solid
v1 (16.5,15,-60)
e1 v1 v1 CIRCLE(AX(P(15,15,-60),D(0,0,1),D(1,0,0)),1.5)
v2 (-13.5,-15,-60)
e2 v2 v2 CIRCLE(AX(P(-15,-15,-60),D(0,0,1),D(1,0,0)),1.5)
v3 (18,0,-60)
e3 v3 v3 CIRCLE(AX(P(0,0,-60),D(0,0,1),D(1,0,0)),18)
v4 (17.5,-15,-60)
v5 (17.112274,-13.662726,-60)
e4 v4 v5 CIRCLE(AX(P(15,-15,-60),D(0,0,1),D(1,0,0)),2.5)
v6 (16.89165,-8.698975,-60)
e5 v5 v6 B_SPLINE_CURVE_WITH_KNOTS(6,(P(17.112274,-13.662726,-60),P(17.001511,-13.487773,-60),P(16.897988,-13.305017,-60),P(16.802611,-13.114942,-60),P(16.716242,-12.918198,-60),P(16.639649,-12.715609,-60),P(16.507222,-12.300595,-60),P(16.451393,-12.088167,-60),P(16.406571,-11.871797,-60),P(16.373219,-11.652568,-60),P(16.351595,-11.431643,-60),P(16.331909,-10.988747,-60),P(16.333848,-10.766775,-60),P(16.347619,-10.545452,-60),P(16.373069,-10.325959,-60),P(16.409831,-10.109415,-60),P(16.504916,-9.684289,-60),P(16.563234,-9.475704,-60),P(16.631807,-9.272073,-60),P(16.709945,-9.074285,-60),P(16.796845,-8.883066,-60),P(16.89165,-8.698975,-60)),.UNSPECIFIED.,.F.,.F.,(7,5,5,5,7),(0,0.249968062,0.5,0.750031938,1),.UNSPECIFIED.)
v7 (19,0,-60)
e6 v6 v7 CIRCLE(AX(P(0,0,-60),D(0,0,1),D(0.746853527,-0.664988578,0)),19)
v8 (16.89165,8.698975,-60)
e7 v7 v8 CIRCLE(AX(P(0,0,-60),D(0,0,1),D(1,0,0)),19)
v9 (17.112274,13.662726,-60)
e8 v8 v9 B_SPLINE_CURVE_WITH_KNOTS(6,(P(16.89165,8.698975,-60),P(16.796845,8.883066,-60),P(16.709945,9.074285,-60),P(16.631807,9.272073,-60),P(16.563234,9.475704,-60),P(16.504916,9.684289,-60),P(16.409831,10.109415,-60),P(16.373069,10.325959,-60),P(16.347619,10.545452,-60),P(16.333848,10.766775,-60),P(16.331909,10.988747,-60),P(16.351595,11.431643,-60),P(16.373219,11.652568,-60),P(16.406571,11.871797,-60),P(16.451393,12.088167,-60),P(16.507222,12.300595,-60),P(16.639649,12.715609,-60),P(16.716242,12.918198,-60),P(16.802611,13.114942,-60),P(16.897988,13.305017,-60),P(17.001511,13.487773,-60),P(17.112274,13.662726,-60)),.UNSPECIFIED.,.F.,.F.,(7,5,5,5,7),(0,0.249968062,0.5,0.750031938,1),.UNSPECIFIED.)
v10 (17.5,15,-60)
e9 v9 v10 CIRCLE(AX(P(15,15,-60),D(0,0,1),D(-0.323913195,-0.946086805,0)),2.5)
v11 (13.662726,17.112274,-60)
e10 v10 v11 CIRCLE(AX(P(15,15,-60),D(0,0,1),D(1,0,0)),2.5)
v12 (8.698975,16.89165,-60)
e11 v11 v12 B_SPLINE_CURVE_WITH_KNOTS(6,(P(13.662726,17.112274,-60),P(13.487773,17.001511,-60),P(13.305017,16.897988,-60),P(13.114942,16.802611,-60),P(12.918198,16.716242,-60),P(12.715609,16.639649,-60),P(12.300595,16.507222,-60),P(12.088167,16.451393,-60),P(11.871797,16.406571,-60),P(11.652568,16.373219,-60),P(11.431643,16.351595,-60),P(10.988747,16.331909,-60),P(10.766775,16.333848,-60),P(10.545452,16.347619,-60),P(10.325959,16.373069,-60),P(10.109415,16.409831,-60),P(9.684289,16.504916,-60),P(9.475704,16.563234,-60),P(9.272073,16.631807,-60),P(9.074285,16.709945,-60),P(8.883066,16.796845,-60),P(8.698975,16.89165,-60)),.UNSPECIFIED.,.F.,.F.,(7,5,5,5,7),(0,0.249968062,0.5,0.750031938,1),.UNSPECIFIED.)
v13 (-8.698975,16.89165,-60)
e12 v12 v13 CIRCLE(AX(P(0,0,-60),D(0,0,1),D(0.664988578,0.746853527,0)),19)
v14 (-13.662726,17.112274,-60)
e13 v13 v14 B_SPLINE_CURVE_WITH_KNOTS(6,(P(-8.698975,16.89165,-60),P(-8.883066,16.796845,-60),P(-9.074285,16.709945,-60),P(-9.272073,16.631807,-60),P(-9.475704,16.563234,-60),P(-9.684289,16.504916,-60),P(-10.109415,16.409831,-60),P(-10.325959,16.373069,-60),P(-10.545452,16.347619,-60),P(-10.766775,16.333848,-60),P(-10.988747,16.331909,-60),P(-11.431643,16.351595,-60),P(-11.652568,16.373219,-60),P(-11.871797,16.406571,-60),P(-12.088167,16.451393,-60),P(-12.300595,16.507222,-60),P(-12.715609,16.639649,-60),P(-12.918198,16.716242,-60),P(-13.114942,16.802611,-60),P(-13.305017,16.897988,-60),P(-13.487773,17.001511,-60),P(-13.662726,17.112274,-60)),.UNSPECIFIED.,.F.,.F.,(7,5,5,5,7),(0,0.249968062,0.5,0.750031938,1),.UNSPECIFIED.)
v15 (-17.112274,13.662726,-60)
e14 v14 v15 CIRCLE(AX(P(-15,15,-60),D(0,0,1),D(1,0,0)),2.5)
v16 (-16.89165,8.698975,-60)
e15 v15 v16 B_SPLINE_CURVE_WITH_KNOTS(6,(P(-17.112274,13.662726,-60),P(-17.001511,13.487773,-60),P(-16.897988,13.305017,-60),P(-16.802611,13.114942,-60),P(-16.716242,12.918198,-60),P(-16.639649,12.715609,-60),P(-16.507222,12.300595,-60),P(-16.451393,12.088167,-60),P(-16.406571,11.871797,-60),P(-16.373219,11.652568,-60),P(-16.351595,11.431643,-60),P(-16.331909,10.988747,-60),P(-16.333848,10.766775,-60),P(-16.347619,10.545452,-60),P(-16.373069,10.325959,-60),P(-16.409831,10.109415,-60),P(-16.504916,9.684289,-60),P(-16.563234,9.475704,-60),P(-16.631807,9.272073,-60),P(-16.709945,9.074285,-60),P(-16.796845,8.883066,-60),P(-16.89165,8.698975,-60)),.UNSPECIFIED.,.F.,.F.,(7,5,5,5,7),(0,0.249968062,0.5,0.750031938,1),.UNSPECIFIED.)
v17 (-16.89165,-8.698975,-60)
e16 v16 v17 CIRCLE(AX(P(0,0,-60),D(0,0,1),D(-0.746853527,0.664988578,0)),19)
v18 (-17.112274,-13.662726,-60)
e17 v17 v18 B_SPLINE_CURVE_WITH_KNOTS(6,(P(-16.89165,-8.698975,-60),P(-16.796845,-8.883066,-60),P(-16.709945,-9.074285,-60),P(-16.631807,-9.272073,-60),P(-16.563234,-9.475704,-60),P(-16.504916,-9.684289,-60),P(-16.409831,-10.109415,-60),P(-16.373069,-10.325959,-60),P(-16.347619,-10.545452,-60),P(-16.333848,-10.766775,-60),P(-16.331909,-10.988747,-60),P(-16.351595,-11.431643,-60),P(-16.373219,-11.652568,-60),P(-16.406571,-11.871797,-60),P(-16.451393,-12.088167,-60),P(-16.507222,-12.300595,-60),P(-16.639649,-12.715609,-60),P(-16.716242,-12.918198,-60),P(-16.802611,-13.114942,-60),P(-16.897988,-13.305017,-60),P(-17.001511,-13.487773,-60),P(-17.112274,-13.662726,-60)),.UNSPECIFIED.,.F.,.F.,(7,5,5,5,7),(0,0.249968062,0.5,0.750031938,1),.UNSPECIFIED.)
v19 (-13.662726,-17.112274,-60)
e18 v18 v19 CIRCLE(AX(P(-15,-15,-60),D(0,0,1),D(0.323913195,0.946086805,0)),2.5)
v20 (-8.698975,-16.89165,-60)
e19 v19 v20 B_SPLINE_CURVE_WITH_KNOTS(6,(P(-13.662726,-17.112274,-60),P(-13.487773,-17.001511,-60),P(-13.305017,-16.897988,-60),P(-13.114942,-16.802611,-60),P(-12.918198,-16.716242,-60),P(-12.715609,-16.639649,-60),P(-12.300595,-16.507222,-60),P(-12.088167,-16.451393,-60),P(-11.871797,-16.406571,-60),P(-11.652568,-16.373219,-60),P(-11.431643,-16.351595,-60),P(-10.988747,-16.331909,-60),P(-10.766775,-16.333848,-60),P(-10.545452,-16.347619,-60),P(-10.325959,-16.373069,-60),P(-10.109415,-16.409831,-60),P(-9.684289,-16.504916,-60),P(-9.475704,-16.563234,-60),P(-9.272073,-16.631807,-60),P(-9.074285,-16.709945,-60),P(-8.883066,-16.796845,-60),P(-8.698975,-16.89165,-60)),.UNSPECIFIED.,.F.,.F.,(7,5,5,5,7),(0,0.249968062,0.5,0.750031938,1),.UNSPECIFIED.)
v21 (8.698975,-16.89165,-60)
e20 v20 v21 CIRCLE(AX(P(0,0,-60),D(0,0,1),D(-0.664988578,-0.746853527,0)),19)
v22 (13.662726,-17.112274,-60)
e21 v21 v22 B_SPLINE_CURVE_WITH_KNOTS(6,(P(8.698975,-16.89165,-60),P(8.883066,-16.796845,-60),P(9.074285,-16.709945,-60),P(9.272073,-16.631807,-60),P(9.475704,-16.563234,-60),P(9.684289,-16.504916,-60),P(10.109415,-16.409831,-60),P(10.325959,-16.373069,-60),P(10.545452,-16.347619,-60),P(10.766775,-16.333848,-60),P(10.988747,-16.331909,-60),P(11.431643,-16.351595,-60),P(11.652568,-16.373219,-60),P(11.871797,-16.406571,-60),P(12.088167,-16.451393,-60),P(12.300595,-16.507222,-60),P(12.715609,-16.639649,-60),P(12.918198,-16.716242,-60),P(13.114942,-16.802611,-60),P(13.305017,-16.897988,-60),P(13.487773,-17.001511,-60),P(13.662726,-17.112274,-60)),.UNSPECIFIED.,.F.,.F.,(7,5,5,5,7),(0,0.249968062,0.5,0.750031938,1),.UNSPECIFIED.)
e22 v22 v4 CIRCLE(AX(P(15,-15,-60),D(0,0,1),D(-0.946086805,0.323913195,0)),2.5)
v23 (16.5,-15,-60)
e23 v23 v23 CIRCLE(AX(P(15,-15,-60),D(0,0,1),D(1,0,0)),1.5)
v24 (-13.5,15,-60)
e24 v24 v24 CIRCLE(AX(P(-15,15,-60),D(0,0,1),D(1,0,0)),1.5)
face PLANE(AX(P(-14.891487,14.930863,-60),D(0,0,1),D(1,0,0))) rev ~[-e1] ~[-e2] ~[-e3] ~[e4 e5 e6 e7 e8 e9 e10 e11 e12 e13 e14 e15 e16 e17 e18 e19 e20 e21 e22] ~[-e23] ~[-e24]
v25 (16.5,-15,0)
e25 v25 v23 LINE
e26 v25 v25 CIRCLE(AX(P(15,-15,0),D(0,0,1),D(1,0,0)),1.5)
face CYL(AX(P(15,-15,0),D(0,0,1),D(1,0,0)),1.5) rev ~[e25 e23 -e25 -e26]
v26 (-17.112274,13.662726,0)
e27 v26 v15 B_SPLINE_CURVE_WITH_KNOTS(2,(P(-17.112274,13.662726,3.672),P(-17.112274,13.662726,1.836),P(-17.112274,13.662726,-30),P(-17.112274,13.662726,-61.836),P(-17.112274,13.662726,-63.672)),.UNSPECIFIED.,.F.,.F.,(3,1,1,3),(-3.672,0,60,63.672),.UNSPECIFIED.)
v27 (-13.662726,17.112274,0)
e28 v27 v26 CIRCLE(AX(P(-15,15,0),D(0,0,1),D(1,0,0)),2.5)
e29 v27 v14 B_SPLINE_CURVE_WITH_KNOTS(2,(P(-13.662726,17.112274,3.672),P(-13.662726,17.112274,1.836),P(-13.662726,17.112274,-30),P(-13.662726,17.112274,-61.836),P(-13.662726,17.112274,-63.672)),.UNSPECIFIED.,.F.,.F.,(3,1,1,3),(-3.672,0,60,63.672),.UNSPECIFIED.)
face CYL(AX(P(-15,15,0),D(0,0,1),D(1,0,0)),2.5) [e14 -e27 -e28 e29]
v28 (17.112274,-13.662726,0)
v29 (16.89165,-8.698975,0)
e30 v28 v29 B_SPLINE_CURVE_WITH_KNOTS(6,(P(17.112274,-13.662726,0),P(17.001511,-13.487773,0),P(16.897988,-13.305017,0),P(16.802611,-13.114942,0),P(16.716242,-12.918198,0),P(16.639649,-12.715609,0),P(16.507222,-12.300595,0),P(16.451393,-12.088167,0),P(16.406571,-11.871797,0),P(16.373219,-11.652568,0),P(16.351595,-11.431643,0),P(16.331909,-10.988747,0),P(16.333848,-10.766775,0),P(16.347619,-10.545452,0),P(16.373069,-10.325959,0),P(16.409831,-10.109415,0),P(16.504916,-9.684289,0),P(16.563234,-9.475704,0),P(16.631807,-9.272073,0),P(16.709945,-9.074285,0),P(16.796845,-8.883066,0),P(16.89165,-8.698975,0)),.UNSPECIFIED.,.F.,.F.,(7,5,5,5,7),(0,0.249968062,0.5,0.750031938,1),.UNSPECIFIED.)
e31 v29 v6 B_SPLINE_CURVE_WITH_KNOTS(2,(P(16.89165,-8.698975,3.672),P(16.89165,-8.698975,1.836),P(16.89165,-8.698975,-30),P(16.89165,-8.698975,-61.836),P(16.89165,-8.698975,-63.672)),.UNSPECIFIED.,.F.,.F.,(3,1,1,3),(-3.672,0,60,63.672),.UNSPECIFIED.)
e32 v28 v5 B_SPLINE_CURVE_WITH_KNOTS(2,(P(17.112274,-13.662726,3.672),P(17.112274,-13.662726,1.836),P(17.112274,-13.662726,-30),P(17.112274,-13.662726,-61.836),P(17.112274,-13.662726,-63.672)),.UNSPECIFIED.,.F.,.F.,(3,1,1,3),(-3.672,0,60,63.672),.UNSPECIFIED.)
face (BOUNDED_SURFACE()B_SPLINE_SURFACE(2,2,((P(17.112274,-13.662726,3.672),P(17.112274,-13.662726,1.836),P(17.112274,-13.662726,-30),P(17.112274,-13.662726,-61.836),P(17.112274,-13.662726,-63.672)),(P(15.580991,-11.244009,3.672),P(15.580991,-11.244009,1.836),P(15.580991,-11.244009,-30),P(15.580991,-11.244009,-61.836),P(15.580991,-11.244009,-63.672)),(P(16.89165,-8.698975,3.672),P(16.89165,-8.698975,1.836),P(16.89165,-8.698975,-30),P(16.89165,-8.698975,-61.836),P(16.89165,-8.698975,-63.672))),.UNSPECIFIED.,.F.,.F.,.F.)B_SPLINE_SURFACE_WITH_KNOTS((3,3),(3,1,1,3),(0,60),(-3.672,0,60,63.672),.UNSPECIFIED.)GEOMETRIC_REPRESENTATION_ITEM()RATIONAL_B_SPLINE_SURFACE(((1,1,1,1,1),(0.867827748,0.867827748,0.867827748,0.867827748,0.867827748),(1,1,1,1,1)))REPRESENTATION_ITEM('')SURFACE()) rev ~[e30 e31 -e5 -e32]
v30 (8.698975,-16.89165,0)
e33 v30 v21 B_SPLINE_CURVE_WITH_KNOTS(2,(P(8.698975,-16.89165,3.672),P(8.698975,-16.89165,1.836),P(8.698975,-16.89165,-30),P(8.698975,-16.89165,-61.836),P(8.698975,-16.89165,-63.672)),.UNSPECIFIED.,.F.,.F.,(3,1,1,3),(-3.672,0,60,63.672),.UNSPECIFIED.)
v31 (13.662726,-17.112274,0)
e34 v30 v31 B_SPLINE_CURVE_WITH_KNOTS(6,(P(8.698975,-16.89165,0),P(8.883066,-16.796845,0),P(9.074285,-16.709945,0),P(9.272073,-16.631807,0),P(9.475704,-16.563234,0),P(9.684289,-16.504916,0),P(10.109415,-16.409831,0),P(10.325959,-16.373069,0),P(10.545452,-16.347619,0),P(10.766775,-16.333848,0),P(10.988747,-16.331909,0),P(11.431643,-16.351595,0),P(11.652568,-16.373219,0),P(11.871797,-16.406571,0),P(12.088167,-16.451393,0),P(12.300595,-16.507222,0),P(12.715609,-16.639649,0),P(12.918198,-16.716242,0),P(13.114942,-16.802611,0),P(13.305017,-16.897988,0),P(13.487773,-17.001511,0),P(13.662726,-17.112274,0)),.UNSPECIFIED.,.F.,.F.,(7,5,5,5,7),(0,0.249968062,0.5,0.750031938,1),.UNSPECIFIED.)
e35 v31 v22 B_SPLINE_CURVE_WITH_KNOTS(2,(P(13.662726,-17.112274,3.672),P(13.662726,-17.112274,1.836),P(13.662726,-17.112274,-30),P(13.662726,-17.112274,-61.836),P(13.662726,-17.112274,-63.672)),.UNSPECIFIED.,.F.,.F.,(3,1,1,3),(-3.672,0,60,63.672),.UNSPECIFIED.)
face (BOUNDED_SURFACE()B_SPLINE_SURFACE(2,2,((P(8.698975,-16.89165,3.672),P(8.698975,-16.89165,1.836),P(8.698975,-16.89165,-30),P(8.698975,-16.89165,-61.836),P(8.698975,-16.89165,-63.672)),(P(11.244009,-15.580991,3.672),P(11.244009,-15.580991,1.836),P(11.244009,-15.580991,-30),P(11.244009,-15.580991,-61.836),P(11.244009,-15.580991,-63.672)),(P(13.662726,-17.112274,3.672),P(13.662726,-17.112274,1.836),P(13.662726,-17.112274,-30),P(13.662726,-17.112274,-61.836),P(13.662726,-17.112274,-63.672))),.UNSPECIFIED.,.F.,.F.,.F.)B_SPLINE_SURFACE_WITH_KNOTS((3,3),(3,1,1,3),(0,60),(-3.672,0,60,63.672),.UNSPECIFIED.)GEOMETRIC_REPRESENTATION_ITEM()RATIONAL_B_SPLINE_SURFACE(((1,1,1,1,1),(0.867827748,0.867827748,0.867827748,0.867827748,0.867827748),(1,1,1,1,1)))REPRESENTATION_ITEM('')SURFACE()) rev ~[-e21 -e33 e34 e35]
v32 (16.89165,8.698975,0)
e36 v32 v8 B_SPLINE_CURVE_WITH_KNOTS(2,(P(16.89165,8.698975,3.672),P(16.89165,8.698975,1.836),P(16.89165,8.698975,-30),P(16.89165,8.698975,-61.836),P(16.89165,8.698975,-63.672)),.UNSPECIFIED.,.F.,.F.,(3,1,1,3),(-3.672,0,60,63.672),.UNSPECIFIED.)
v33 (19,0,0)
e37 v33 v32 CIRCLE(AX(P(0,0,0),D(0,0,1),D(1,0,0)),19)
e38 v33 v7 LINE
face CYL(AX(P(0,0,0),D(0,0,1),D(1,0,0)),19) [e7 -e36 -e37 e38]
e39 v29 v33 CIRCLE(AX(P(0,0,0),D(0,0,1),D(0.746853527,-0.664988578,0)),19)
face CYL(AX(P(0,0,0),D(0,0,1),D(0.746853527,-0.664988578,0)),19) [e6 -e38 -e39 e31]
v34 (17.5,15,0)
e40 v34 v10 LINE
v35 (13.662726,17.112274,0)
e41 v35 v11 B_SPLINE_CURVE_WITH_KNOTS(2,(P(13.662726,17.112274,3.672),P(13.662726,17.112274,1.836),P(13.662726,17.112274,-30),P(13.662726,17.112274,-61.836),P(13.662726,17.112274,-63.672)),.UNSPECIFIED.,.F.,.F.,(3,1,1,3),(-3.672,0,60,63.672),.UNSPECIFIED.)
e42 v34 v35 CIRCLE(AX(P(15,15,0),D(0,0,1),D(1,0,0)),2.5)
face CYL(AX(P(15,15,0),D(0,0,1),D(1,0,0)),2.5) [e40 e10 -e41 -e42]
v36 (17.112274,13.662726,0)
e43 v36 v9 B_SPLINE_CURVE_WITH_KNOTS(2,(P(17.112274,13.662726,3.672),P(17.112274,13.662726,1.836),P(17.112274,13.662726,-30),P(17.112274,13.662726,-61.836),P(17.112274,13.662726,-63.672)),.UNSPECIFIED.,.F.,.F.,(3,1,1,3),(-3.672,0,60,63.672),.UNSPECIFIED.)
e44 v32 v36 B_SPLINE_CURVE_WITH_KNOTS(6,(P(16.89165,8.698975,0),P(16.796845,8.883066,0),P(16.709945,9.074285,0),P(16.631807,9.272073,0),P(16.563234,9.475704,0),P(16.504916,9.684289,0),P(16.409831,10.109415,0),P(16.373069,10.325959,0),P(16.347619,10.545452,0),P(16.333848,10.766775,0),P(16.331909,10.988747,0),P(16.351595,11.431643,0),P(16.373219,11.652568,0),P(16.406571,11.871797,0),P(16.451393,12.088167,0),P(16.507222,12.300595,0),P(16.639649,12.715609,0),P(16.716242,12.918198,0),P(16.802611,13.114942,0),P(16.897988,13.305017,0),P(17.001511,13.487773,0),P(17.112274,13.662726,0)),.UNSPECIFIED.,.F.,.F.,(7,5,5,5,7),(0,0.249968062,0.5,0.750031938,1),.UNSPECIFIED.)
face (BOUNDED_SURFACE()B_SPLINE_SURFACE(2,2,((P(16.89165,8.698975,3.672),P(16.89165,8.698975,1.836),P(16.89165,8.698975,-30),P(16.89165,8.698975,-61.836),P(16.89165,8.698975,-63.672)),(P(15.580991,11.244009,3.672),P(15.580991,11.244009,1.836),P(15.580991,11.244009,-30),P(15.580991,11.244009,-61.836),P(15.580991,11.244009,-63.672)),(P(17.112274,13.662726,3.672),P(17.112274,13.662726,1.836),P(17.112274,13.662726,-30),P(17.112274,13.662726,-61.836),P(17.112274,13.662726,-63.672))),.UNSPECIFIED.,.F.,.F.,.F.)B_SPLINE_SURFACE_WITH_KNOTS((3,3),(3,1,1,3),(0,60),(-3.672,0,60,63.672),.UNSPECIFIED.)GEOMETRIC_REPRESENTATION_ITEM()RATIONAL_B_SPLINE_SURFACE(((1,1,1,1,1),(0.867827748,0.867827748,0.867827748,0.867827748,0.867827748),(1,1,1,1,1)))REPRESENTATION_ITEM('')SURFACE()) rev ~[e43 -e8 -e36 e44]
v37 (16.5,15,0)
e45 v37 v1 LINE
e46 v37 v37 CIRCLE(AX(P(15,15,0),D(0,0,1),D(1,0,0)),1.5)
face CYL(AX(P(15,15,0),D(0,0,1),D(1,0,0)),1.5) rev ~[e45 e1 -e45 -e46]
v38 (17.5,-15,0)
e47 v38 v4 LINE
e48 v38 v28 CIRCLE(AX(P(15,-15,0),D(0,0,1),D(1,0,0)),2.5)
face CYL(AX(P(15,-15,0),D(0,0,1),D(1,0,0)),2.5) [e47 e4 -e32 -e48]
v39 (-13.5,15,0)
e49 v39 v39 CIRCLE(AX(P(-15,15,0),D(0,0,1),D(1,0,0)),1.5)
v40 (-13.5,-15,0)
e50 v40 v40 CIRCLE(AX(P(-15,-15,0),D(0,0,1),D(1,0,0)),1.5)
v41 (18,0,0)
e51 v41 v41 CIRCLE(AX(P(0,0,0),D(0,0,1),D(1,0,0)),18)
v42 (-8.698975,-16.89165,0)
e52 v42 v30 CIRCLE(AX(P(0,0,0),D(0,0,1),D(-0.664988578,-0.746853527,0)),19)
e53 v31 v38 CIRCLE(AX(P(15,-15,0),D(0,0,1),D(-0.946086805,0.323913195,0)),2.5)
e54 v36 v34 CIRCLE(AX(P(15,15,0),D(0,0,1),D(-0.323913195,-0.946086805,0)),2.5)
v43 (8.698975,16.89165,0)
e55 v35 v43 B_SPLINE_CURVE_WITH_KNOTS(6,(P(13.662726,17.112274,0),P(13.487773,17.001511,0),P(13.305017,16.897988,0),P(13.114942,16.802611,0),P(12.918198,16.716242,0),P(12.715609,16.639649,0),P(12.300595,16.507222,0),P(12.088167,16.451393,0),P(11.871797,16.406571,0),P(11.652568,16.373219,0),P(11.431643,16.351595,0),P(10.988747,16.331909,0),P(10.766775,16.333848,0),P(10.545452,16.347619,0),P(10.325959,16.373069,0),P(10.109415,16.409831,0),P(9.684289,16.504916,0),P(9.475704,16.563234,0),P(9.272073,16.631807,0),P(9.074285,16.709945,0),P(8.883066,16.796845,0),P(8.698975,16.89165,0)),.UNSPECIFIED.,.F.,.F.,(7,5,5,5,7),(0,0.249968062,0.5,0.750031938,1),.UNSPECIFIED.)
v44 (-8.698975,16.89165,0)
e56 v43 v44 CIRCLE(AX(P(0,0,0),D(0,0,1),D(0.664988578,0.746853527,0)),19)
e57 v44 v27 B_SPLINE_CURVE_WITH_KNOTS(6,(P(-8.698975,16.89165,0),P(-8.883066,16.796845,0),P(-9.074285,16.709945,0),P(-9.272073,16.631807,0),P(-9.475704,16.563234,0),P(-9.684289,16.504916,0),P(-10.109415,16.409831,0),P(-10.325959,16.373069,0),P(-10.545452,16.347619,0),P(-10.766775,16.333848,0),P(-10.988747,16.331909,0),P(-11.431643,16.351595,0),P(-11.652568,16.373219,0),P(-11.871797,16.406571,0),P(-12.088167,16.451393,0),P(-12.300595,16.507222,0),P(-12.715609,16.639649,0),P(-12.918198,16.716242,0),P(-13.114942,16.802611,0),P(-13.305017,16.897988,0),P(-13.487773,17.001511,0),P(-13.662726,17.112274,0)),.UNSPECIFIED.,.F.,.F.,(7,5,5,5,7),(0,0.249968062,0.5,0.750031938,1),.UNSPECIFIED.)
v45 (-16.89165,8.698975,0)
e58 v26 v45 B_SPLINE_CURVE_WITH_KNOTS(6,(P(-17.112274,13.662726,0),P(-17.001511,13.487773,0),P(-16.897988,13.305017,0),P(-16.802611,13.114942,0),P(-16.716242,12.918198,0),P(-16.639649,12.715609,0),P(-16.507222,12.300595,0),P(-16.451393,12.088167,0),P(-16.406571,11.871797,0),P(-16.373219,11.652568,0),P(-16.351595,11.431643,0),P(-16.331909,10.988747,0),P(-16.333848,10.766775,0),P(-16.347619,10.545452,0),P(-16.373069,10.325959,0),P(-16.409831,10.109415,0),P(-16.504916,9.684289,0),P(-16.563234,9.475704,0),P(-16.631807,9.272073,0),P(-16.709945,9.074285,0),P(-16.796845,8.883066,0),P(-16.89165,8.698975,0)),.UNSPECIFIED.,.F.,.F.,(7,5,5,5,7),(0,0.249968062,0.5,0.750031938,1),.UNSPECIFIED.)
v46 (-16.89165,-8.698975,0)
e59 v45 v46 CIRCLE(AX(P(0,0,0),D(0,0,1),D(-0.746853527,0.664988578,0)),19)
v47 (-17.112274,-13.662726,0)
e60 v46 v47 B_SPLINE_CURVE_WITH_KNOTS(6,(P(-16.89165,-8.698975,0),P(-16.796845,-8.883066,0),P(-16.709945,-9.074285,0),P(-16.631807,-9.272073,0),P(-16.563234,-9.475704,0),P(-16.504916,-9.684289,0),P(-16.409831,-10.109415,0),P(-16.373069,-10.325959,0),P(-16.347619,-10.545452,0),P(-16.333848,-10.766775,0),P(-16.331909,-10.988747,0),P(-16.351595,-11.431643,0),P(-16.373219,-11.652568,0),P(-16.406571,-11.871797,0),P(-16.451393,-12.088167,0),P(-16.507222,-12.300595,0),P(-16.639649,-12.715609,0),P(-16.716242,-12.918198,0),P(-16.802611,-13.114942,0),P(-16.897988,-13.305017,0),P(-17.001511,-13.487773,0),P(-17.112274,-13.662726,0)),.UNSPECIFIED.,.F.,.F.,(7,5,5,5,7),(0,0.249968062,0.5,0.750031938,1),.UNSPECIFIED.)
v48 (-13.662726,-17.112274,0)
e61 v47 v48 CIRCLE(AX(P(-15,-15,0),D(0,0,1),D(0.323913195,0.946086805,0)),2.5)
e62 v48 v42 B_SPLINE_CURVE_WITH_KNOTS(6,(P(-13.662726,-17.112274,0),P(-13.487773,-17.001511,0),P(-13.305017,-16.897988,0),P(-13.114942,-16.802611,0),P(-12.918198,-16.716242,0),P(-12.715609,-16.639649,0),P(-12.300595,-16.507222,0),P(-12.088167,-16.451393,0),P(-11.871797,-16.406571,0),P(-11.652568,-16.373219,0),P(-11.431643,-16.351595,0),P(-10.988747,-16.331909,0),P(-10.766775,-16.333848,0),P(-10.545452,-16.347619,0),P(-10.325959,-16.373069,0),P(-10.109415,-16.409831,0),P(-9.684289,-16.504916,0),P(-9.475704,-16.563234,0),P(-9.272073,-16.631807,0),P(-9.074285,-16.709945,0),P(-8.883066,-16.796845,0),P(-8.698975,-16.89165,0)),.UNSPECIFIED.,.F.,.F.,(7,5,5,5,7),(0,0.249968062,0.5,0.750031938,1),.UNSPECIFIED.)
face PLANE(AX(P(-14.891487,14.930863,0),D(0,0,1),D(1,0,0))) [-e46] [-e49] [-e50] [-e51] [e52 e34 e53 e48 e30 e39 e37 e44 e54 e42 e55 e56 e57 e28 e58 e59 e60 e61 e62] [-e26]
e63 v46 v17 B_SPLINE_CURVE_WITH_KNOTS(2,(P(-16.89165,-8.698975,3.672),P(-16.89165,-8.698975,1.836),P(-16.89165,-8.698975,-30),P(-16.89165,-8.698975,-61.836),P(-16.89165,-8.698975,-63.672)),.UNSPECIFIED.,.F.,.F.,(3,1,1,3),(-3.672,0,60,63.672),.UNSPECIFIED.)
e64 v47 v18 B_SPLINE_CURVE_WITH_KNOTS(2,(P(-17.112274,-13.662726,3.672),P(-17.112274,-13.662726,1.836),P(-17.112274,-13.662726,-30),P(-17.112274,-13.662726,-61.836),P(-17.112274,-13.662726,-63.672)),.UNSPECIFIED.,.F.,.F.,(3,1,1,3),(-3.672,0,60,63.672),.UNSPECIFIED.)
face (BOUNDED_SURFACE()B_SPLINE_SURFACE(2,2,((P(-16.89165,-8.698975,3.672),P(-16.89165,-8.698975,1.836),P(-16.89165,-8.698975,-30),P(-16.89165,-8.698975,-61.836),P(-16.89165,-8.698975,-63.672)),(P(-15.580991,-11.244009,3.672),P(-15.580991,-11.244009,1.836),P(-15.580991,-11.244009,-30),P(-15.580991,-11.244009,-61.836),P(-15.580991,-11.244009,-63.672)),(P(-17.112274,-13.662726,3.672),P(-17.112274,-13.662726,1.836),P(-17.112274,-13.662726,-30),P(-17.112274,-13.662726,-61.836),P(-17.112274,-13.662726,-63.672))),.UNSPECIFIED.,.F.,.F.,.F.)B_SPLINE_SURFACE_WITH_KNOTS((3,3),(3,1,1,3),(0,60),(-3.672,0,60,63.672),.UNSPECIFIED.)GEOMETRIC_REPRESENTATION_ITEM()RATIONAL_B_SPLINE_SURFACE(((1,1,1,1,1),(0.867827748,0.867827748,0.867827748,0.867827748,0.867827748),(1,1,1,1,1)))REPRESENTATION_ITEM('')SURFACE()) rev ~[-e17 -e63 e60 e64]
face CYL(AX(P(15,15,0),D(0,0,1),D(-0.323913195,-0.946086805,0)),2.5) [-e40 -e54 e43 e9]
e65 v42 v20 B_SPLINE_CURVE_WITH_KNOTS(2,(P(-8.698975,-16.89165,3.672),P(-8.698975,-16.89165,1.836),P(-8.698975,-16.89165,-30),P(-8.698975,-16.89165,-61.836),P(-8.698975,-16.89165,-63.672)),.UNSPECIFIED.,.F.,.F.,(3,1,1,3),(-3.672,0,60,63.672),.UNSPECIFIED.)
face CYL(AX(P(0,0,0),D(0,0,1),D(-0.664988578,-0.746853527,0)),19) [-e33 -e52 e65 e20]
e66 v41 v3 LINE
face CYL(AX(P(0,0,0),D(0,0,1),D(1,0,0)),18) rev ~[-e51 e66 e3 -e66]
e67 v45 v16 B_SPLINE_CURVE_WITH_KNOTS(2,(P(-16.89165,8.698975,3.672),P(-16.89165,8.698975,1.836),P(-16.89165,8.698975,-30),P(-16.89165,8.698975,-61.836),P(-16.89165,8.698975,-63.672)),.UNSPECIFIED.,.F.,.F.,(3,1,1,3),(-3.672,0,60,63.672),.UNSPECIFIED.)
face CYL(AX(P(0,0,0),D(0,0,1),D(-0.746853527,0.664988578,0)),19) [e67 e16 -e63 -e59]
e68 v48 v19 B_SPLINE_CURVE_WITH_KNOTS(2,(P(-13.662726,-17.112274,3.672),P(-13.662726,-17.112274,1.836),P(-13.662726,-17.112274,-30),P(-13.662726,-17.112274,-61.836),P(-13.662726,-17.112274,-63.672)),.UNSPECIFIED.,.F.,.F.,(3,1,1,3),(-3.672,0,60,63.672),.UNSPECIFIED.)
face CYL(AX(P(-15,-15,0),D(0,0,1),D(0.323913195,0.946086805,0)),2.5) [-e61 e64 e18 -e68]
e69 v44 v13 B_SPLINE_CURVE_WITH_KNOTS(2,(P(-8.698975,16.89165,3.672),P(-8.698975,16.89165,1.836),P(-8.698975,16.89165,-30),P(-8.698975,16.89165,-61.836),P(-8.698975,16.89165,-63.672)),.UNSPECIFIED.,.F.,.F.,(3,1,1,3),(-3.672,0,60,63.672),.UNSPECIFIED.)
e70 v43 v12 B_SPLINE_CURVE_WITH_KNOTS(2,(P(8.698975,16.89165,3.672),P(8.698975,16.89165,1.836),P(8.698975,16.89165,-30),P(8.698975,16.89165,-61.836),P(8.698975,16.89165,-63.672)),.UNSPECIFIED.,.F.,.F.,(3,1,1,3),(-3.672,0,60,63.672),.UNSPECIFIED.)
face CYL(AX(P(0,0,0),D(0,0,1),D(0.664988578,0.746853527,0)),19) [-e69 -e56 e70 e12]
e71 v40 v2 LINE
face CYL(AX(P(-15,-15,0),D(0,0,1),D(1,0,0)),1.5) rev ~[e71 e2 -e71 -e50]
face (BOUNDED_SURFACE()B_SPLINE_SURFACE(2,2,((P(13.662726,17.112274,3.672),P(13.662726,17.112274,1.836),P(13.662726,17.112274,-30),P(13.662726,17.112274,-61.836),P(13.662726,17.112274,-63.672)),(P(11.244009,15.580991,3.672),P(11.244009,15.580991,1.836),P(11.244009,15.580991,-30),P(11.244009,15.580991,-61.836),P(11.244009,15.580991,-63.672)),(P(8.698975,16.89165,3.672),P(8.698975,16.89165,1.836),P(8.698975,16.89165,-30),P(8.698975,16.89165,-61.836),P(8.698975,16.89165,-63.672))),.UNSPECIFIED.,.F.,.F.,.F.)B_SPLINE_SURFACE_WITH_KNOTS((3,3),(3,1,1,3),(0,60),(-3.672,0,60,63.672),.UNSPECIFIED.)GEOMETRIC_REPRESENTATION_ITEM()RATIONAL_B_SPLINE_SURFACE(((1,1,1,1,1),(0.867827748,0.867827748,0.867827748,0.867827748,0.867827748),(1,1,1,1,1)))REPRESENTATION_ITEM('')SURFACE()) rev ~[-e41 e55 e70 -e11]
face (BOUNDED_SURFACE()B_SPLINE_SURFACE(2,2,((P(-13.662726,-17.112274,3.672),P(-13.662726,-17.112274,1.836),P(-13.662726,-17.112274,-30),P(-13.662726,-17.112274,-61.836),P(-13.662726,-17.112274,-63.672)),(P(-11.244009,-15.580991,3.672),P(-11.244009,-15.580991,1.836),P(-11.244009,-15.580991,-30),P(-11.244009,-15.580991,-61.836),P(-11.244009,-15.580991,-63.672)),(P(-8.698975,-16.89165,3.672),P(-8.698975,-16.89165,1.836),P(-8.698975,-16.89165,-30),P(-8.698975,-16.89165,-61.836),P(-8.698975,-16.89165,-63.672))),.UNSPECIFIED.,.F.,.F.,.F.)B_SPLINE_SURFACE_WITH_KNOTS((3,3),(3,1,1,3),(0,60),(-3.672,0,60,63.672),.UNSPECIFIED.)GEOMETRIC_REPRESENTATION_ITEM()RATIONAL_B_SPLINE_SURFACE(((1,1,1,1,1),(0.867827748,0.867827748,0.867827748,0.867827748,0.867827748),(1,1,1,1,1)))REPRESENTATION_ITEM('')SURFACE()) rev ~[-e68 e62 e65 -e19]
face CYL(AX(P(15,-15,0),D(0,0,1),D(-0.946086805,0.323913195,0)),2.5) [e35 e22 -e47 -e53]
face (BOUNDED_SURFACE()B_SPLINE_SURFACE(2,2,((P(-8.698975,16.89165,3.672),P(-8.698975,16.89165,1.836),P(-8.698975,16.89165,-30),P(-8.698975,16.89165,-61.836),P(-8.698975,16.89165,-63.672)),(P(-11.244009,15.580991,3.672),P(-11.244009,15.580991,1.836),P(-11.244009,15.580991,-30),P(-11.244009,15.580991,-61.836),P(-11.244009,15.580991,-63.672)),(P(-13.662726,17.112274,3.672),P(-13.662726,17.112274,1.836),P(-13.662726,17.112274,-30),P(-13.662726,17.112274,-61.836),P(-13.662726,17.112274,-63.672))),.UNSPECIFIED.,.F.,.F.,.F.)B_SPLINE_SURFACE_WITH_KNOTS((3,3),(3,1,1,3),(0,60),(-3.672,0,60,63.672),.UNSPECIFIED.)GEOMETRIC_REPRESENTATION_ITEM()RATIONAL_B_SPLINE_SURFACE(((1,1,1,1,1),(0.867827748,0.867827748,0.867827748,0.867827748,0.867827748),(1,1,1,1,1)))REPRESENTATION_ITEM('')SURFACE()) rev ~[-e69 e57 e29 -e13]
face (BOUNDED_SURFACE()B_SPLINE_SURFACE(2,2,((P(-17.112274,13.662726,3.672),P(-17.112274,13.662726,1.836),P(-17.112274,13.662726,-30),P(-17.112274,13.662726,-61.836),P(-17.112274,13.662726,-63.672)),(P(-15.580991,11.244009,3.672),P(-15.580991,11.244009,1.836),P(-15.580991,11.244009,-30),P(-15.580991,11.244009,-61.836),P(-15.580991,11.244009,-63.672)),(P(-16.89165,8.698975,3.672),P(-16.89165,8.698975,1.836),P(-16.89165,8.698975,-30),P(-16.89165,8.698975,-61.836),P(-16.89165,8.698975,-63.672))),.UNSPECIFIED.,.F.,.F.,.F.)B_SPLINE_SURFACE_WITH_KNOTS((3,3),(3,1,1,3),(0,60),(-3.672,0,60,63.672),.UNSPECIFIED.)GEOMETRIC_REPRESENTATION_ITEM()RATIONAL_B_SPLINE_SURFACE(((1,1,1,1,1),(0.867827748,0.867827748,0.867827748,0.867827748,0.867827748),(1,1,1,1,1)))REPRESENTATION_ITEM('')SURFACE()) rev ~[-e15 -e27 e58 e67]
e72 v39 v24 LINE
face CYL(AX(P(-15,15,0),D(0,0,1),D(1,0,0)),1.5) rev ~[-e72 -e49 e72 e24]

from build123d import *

# Parameters (mm, degrees)
F0_R     = 1.5
F0_R_2   = 18
F1_DEPTH = 60
F2_R     = 5


with BuildPart() as f1:
    # F0 (on Top) → F1 (new body)
    with BuildSketch(Plane.XY):
        with BuildLine():
            ThreePointArc((-14.1902170115, 12.6347829885), (-13.4350288425, 13.4350288425), (-12.6347829885, 14.1902170115))
            ThreePointArc((-12.6347829885, 14.1902170115), (-12.533925941, 14.5895383872), (-12.5, 15))
            ThreePointArc((-12.5, 15), (-17.0340178799, 16.4535375002), (-14.1902170115, 12.6347829885))
        make_face()
        with Locations((-15, 15)):
            Circle(F0_R, mode=Mode.SUBTRACT)
        with BuildLine():
            ThreePointArc((12.6347829885, 14.1902170115), (13.232233047, 13.232233047), (14.1902170115, 12.6347829885))
            ThreePointArc((14.1902170115, 12.6347829885), (13.4350288425, 13.4350288425), (12.6347829885, 14.1902170115))
        make_face()
        with BuildLine():
            ThreePointArc((12.6347829885, 14.1902170115), (13.4350288425, 13.4350288425), (14.1902170115, 12.6347829885))
            ThreePointArc((14.1902170115, 12.6347829885), (16.4535375002, 12.9659821201), (17.5, 15))
            ThreePointArc((17.5, 15), (14.5895383872, 17.466074059), (12.6347829885, 14.1902170115))
        make_face()
        with Locations((15, 15)):
            Circle(F0_R, mode=Mode.SUBTRACT)
        with BuildLine():
            ThreePointArc((12.6347829885, -14.1902170115), (13.4350288425, -13.4350288425), (14.1902170115, -12.6347829885))
            ThreePointArc((14.1902170115, -12.6347829885), (13.232233047, -13.232233047), (12.6347829885, -14.1902170115))
        make_face()
        with BuildLine():
            ThreePointArc((17.5, -15), (16.4535375002, -12.9659821201), (14.1902170115, -12.6347829885))
            ThreePointArc((14.1902170115, -12.6347829885), (13.4350288425, -13.4350288425), (12.6347829885, -14.1902170115))
            ThreePointArc((12.6347829885, -14.1902170115), (14.5895383872, -17.466074059), (17.5, -15))
        make_face()
        with Locations((15, -15)):
            Circle(F0_R, mode=Mode.SUBTRACT)
        with BuildLine():
            ThreePointArc((-14.1902170115, -12.6347829885), (-13.4350288425, -13.4350288425), (-12.6347829885, -14.1902170115))
            ThreePointArc((-12.6347829885, -14.1902170115), (-13.232233047, -13.232233047), (-14.1902170115, -12.6347829885))
        make_face()
        with BuildLine():
            ThreePointArc((-12.5, -15), (-12.533925941, -14.5895383872), (-12.6347829885, -14.1902170115))
            ThreePointArc((-12.6347829885, -14.1902170115), (-13.4350288425, -13.4350288425), (-14.1902170115, -12.6347829885))
            ThreePointArc((-14.1902170115, -12.6347829885), (-17.0340178799, -16.4535375002), (-12.5, -15))
        make_face()
        with Locations((-15, -15)):
            Circle(F0_R, mode=Mode.SUBTRACT)
        with BuildLine():
            ThreePointArc((14.1902170115, -12.6347829885), (17.7568877231, -6.7596551976), (19, 0))
            ThreePointArc((19, 0), (17.7568877231, 6.7596551976), (14.1902170115, 12.6347829885))
            ThreePointArc((14.1902170115, 12.6347829885), (13.232233047, 13.232233047), (12.6347829885, 14.1902170115))
            ThreePointArc((12.6347829885, 14.1902170115), (0, 19), (-12.6347829885, 14.1902170115))
            ThreePointArc((-12.6347829885, 14.1902170115), (-13.232233047, 13.232233047), (-14.1902170115, 12.6347829885))
            ThreePointArc((-14.1902170115, 12.6347829885), (-19, 0), (-14.1902170115, -12.6347829885))
            ThreePointArc((-14.1902170115, -12.6347829885), (-13.232233047, -13.232233047), (-12.6347829885, -14.1902170115))
            ThreePointArc((-12.6347829885, -14.1902170115), (0, -19), (12.6347829885, -14.1902170115))
            ThreePointArc((12.6347829885, -14.1902170115), (13.232233047, -13.232233047), (14.1902170115, -12.6347829885))
        make_face()
        Circle(F0_R_2, mode=Mode.SUBTRACT)
        with BuildLine():
            ThreePointArc((-14.1902170115, 12.6347829885), (-13.232233047, 13.232233047), (-12.6347829885, 14.1902170115))
            ThreePointArc((-12.6347829885, 14.1902170115), (-13.4350288425, 13.4350288425), (-14.1902170115, 12.6347829885))
        make_face()
    extrude(amount=-F1_DEPTH)

    # F2
    f2_edges = [f1.edges().sort_by_distance(p)[0] for p in [
        (-14.190217, 12.634783, -30),
        (-14.190217, -12.634783, -30),
        (12.634783, 14.190217, -30),
        (-12.634783, 14.190217, -30),
        (14.190217, 12.634783, -30),
        (14.190217, -12.634783, -30),
        (12.634783, -14.190217, -30),
        (-12.634783, -14.190217, -30),
    ]]
    fillet(f2_edges, radius=F2_R)


solid = f1.part
